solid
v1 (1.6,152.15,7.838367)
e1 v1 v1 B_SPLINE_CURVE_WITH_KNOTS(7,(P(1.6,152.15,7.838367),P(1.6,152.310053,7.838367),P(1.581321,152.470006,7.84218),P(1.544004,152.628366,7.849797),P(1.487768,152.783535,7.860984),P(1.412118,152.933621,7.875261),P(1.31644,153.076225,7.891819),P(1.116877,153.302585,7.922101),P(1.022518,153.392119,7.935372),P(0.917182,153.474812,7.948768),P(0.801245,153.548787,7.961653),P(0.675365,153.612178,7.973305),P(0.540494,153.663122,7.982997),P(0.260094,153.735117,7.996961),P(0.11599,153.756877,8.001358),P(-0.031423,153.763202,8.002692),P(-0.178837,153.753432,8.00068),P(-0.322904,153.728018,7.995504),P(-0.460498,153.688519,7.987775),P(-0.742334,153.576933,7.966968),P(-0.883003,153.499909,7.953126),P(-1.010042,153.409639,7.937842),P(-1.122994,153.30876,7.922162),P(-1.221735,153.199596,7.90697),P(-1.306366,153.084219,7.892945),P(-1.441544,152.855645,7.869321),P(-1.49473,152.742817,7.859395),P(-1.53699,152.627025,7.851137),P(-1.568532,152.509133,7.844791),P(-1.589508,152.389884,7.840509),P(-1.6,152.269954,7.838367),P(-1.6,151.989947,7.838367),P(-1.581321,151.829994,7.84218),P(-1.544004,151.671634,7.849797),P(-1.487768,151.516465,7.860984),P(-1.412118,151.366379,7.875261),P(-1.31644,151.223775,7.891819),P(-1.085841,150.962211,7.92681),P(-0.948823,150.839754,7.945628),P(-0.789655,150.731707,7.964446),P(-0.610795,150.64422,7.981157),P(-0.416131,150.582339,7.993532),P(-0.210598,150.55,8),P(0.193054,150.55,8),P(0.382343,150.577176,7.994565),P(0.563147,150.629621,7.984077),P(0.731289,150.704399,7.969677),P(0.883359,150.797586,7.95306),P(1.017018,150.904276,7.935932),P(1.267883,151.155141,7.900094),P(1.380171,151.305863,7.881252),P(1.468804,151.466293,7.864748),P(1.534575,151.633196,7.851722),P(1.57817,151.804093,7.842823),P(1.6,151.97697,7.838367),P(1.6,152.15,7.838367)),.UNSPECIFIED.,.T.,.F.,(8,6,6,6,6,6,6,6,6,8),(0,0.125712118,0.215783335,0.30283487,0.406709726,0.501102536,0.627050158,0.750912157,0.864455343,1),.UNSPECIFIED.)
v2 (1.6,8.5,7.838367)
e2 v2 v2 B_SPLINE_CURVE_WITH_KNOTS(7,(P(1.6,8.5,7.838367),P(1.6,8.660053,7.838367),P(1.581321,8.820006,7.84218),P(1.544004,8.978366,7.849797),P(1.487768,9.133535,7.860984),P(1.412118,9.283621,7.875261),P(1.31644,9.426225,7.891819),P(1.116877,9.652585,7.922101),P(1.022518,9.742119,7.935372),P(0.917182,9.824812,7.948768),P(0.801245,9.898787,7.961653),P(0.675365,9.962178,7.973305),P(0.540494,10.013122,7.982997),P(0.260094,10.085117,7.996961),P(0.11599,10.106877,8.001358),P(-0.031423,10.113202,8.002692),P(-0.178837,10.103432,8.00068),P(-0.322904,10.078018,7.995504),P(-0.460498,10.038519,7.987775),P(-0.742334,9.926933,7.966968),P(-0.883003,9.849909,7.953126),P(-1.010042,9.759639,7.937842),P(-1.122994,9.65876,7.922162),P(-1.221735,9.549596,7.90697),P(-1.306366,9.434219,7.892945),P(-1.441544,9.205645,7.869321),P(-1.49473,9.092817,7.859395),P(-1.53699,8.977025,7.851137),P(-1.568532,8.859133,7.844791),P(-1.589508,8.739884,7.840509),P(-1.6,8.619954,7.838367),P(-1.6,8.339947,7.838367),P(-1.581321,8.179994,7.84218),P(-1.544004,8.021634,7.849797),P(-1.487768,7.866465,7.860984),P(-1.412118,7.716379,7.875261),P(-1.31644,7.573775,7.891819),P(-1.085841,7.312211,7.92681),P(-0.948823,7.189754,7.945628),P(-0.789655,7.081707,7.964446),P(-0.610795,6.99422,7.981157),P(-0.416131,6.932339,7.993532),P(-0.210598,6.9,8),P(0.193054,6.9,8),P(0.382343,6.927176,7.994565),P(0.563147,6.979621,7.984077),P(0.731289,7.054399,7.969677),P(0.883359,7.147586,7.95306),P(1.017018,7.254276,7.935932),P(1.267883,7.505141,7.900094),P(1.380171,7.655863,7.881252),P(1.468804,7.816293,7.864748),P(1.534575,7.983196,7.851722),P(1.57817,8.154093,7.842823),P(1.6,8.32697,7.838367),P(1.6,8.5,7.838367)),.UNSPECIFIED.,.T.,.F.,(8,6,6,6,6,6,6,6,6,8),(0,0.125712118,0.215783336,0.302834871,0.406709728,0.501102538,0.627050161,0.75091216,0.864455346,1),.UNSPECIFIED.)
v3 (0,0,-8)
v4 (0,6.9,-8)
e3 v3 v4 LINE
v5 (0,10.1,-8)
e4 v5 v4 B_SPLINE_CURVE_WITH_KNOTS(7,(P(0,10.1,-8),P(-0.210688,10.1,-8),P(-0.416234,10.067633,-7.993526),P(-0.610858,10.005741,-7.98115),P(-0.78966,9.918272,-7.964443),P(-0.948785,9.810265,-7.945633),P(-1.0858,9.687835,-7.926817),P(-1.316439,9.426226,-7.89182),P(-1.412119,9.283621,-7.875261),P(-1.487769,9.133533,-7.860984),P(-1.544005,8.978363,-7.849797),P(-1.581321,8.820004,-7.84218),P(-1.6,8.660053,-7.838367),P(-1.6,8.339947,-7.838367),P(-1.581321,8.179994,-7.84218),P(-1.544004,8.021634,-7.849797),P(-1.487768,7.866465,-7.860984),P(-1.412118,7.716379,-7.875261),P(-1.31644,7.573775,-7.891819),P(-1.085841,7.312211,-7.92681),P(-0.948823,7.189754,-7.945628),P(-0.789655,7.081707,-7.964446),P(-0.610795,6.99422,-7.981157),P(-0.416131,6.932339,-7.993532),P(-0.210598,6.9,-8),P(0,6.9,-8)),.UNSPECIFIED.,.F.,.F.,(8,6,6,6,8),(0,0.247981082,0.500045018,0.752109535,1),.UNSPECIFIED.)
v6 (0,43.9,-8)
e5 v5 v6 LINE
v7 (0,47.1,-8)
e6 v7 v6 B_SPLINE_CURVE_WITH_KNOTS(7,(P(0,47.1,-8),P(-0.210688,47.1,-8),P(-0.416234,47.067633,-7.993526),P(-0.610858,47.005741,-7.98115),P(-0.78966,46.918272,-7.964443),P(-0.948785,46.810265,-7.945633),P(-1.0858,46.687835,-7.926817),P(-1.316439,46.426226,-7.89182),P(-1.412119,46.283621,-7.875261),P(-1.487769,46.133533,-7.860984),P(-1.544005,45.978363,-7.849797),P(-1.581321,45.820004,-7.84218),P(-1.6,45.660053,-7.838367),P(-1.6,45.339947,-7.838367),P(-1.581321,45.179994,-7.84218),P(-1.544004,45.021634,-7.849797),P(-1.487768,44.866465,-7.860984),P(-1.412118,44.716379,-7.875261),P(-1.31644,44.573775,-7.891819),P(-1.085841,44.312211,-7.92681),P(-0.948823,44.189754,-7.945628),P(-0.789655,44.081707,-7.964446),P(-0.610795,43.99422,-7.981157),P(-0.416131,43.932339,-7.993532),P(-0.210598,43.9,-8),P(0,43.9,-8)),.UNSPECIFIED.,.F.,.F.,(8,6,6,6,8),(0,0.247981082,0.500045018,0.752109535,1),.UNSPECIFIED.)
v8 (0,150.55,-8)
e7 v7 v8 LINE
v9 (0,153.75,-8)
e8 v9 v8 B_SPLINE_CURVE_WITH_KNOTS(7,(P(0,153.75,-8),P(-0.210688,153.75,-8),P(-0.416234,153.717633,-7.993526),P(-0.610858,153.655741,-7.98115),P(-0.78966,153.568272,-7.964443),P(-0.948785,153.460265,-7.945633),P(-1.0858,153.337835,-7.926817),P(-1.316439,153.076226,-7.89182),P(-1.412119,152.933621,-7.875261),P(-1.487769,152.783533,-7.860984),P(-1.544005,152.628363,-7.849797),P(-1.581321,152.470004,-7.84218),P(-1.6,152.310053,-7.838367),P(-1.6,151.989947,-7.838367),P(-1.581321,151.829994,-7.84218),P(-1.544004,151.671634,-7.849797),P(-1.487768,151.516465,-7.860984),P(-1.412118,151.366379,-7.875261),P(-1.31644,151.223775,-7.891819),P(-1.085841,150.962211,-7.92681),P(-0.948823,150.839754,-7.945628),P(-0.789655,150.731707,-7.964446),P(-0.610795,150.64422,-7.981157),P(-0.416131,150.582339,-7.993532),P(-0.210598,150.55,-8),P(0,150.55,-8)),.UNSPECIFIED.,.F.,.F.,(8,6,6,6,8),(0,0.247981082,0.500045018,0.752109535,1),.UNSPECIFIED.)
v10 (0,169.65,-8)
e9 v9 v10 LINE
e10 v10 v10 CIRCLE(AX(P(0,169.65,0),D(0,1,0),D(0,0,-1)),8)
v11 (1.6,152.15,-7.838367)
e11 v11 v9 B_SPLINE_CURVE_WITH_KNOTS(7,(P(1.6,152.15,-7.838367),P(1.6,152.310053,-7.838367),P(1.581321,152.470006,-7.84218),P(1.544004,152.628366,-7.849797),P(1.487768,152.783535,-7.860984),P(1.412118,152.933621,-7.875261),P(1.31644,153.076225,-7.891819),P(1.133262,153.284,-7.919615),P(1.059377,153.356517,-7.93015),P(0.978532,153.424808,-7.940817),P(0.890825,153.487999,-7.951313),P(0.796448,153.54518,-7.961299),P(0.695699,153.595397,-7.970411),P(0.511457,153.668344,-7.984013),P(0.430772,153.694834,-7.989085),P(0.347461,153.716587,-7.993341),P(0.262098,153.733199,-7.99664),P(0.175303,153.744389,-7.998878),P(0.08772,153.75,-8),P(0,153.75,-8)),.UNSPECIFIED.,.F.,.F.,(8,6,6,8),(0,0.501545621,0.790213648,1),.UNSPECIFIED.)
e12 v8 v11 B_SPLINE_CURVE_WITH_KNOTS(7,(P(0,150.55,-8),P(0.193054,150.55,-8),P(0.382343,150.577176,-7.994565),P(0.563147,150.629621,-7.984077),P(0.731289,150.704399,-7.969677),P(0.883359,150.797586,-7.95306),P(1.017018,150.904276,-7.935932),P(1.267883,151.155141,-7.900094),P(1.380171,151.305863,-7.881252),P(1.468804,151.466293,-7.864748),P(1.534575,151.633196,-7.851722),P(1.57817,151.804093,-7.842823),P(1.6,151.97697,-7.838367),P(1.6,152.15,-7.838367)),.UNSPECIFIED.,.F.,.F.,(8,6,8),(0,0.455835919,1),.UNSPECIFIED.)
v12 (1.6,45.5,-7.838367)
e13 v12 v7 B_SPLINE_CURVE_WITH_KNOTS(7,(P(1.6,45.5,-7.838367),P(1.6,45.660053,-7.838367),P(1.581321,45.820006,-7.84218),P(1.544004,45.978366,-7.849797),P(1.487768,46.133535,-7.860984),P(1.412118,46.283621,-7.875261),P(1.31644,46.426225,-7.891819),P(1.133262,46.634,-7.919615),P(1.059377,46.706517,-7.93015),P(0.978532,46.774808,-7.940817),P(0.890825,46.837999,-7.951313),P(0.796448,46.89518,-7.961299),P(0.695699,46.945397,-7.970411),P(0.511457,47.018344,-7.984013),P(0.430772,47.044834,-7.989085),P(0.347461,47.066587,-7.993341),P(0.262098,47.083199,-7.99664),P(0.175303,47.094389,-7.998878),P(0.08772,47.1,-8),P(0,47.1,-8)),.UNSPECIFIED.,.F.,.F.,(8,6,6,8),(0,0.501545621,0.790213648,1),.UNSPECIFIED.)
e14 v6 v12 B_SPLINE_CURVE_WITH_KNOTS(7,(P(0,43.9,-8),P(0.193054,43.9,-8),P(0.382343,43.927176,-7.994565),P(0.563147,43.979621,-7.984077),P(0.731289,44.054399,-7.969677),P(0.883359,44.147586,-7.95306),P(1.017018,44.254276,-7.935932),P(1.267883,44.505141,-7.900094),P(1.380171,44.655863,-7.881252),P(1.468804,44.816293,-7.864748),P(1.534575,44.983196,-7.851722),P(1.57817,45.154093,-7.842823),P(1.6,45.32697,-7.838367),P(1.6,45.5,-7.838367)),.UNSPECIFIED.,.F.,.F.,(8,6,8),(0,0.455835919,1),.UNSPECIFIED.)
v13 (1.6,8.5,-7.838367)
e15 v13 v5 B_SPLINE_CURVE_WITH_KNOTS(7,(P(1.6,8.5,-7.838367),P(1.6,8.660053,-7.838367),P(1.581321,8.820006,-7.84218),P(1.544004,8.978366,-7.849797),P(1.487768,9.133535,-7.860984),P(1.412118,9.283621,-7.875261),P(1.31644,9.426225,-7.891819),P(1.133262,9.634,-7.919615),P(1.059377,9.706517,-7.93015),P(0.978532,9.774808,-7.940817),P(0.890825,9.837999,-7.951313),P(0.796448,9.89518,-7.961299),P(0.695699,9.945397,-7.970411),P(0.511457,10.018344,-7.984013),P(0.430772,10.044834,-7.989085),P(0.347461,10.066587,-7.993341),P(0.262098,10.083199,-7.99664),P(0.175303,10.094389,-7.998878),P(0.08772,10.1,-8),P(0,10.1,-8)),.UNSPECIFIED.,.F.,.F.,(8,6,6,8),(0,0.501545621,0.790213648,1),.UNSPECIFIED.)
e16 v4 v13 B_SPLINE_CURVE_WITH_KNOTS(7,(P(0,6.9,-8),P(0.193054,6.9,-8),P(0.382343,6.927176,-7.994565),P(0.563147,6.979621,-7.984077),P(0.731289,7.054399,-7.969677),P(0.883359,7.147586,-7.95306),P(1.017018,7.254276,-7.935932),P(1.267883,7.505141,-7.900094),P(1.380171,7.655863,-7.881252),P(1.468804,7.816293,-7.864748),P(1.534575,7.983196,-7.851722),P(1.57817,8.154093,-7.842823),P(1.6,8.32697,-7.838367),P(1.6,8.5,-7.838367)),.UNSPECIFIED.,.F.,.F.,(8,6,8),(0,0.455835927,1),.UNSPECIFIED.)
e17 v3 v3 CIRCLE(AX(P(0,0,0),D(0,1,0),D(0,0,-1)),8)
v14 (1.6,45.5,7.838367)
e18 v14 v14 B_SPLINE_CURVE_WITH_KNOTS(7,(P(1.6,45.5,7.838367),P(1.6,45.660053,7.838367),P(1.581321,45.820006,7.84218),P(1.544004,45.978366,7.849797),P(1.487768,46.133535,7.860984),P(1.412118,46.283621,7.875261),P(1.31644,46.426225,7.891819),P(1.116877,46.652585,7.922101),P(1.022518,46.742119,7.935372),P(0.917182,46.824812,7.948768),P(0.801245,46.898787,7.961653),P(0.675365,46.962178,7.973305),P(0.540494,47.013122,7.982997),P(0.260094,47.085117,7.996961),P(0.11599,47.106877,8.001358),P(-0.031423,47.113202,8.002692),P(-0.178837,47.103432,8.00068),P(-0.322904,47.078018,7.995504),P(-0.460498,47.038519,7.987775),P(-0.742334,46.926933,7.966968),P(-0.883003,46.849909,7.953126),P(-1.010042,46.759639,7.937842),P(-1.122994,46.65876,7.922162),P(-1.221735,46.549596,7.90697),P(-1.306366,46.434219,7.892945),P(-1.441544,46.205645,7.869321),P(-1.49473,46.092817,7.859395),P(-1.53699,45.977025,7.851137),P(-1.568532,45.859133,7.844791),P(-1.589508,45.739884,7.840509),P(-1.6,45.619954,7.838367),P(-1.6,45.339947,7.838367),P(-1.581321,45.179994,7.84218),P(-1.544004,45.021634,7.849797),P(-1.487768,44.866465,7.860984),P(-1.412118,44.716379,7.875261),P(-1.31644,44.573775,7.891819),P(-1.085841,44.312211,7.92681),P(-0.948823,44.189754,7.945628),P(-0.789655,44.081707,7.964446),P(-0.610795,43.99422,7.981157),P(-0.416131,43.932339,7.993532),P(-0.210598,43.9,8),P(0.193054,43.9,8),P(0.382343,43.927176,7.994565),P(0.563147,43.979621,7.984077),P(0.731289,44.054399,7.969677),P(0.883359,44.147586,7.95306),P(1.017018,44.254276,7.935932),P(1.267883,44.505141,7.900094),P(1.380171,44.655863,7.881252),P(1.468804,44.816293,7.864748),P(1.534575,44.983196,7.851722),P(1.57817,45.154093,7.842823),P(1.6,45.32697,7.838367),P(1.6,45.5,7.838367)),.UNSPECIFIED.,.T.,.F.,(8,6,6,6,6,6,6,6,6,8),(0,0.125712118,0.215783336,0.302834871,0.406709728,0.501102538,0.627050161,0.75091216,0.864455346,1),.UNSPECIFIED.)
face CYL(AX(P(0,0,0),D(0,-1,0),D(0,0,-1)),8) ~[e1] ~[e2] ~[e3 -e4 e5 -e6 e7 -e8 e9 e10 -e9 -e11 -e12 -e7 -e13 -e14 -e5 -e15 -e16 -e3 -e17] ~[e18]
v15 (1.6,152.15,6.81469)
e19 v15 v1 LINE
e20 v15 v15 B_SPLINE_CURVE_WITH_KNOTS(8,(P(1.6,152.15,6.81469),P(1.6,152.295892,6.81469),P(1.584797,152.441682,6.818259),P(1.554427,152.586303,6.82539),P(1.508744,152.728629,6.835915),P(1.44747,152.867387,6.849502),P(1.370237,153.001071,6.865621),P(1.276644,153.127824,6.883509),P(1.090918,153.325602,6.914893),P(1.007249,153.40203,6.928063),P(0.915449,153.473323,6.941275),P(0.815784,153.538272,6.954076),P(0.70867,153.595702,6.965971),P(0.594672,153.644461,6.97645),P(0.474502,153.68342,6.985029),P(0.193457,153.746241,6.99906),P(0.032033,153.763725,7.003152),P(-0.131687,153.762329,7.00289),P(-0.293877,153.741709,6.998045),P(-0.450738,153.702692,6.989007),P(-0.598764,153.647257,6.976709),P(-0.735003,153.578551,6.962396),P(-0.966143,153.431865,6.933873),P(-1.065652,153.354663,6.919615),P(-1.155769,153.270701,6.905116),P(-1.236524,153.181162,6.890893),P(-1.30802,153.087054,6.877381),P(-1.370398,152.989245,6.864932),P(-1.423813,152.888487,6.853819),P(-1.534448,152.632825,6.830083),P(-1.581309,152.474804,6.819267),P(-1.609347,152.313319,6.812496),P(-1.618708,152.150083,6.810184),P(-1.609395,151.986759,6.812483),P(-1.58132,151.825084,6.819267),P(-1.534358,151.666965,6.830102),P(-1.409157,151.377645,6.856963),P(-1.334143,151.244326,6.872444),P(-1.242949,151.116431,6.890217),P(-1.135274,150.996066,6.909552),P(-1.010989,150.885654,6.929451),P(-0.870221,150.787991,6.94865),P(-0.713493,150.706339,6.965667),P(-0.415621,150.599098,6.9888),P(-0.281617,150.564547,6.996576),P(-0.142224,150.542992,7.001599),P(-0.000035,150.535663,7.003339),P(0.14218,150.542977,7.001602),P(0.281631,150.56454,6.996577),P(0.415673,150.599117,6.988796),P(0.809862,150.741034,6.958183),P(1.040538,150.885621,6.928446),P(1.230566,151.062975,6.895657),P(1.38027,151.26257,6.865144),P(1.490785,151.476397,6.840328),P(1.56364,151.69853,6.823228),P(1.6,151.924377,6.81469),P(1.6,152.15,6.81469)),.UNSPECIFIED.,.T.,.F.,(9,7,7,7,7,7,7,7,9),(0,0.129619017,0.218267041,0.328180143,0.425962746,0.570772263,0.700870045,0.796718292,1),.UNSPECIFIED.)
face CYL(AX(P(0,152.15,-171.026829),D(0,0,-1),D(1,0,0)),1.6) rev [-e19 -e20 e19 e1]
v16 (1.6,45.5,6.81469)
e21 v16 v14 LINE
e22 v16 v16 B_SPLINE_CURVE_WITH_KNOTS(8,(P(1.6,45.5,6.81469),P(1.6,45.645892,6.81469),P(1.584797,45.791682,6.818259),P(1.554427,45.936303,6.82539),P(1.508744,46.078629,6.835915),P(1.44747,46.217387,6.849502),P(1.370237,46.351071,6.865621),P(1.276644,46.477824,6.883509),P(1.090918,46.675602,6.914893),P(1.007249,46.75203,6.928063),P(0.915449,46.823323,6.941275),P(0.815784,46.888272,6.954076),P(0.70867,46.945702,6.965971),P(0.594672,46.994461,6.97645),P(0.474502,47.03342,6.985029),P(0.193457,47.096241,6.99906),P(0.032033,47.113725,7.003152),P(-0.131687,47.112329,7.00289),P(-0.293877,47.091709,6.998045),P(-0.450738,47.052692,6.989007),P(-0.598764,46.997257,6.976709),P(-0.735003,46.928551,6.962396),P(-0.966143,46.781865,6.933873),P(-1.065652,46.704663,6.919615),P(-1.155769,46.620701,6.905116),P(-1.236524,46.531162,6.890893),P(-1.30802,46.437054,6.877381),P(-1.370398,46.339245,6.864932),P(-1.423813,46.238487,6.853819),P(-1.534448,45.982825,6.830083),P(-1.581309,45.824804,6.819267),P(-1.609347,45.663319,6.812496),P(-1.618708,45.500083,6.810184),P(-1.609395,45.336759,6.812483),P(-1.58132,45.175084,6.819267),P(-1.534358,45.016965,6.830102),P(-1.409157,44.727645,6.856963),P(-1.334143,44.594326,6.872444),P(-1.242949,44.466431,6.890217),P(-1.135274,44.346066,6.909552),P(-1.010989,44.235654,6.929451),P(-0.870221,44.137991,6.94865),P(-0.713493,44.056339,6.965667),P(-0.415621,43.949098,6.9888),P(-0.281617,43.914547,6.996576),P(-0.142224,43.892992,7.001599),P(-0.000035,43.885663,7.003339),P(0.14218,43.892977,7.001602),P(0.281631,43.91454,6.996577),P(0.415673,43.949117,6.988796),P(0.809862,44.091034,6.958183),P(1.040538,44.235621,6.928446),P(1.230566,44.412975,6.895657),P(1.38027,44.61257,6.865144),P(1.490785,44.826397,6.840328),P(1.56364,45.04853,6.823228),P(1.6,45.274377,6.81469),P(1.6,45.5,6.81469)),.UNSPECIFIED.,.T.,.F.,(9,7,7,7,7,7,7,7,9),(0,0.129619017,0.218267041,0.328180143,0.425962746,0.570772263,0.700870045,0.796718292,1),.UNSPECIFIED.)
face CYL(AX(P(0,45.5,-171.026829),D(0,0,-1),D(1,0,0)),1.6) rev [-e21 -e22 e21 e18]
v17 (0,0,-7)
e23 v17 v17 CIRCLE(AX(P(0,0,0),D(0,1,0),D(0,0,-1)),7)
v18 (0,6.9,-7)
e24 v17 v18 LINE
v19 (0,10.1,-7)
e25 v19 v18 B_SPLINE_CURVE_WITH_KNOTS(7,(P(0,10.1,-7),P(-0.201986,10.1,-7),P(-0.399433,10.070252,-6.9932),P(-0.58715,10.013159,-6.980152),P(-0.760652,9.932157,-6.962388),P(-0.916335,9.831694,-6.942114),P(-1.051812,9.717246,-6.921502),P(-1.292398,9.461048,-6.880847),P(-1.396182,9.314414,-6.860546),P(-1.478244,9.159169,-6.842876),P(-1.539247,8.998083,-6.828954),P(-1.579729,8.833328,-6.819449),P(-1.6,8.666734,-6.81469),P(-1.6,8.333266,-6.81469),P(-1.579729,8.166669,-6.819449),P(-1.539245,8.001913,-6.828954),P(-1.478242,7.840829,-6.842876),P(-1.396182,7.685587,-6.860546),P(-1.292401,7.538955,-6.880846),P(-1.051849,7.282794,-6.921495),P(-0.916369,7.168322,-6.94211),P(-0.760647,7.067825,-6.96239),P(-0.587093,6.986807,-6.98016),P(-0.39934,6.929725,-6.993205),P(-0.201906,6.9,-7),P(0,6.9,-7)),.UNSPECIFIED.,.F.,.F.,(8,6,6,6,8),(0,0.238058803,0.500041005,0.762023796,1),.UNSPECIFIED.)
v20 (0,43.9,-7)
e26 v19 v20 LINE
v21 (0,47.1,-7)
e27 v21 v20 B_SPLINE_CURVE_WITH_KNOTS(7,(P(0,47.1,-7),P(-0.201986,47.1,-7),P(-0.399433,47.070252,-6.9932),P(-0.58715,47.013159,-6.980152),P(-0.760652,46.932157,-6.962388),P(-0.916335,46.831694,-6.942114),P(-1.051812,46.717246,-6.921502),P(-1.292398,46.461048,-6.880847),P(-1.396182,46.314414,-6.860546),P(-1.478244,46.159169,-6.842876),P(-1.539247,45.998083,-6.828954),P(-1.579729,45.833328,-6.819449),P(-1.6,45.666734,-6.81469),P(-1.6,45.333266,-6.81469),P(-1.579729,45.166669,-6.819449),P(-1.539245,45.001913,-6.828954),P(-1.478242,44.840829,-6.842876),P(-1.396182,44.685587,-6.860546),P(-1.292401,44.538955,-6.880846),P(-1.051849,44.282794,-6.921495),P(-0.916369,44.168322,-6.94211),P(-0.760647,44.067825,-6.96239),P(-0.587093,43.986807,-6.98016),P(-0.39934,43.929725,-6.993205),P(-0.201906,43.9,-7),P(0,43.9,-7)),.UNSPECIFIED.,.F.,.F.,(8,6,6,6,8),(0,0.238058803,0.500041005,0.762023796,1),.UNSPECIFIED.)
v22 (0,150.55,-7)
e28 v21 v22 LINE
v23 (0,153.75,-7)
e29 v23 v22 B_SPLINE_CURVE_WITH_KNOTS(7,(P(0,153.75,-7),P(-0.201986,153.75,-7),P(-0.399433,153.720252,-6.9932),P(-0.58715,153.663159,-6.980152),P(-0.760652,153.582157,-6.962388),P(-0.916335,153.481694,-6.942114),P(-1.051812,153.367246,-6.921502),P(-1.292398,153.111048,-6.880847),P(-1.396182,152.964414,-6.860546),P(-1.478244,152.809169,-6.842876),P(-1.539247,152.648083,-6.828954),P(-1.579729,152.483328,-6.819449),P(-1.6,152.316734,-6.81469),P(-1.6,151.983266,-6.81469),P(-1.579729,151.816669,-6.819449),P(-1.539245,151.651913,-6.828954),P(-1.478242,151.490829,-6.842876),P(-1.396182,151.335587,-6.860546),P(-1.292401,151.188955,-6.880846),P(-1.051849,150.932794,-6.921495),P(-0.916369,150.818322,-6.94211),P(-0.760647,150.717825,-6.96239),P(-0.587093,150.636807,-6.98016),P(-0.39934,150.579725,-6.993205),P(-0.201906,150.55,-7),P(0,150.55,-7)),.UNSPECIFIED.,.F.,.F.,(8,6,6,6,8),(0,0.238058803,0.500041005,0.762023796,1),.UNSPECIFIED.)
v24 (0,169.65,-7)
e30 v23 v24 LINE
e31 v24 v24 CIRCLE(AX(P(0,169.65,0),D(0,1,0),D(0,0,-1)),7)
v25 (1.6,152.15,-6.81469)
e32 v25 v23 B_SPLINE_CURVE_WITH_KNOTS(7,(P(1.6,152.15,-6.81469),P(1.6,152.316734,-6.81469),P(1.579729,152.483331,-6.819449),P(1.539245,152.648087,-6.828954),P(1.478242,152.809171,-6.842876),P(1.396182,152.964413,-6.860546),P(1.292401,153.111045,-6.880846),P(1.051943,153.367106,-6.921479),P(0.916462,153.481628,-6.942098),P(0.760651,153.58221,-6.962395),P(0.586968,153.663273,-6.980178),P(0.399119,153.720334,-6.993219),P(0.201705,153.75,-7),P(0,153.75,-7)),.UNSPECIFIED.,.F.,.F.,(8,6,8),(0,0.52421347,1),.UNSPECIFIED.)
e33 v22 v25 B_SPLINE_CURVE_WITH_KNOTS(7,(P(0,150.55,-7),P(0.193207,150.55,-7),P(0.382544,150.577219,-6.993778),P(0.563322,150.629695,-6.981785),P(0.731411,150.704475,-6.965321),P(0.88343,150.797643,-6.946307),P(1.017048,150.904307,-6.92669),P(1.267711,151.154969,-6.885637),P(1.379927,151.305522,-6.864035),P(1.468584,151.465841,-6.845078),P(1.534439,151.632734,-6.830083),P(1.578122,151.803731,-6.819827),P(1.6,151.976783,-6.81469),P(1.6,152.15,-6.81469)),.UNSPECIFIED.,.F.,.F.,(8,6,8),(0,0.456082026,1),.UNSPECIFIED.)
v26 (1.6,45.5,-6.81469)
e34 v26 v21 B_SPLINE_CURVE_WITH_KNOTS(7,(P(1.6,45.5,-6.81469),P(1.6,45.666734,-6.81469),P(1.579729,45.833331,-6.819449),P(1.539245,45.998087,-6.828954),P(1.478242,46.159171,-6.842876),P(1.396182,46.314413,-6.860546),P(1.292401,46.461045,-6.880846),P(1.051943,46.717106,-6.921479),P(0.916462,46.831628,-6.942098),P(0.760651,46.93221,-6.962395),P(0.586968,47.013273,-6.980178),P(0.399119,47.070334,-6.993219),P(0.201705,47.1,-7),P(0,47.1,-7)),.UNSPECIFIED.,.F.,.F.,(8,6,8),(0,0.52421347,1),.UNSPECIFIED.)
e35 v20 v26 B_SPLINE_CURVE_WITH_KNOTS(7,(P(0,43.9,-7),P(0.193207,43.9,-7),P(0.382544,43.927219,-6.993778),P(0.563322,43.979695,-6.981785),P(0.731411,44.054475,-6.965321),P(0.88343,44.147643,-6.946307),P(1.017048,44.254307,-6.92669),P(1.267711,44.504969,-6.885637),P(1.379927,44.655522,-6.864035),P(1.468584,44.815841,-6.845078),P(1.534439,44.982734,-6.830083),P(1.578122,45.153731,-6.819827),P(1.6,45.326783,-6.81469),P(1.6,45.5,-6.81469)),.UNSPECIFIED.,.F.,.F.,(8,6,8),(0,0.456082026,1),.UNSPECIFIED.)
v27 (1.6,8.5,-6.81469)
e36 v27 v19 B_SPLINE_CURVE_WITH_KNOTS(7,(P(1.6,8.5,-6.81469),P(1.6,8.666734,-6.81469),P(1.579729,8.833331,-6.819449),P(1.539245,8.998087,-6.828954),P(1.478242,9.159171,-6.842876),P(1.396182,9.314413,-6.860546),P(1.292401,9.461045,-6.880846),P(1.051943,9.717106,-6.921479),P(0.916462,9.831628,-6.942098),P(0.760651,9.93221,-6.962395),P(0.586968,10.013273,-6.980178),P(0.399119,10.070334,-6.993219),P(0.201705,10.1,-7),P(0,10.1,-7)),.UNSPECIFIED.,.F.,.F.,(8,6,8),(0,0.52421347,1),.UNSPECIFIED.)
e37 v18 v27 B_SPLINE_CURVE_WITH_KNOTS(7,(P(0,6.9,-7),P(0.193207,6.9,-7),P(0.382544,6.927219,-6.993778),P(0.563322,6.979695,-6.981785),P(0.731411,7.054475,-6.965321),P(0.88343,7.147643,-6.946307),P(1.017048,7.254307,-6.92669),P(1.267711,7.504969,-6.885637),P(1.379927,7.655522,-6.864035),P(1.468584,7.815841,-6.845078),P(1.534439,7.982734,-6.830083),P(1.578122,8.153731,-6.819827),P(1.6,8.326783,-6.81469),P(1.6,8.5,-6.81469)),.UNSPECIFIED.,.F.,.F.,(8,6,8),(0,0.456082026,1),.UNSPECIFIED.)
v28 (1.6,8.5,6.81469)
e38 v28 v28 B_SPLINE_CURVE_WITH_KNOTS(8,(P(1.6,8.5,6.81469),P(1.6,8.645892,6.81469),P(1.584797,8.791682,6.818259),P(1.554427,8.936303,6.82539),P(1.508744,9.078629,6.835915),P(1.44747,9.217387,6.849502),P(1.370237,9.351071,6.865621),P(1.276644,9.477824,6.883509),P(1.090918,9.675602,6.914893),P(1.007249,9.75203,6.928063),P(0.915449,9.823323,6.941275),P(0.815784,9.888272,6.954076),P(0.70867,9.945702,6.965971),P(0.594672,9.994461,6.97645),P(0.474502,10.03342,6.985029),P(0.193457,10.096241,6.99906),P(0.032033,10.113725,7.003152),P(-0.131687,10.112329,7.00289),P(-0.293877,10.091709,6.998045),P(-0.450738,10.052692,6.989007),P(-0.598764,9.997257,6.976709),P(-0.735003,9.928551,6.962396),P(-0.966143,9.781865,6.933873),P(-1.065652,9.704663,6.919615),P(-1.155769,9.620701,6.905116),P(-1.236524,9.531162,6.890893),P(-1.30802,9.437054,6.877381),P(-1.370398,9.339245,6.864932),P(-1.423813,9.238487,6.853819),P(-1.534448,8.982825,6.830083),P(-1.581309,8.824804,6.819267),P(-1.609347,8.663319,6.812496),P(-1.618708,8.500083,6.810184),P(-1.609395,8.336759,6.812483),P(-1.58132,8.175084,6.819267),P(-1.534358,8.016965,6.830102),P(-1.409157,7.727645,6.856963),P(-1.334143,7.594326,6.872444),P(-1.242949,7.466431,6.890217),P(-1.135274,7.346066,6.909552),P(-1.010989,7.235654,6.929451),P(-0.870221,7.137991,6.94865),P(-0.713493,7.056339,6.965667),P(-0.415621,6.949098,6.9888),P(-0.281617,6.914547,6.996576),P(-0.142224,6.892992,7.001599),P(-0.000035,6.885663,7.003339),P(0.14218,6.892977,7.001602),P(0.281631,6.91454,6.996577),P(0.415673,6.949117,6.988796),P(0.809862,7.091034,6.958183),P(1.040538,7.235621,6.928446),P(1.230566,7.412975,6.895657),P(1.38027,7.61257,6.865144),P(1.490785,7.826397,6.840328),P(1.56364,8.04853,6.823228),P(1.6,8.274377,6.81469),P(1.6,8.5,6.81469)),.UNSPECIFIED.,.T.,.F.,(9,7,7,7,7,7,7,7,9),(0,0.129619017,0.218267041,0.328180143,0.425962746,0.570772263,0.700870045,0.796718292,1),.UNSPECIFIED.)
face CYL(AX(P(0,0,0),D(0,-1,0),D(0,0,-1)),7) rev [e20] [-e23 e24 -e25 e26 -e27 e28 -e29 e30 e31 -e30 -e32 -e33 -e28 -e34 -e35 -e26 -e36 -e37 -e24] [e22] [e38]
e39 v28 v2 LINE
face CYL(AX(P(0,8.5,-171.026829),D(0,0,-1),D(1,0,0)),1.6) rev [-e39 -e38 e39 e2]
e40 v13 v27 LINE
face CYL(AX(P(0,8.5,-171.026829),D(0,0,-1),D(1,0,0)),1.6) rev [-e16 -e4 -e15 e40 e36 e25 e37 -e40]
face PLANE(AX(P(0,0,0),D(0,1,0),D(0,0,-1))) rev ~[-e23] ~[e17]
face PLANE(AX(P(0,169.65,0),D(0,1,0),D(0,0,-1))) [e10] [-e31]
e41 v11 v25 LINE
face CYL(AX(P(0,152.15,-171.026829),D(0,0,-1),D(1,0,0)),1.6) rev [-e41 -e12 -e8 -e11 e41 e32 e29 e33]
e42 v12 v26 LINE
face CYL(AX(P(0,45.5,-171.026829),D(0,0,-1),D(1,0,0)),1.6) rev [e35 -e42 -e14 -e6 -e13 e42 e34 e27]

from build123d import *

# Parameters (mm, degrees)
SKETCH_1_R               = 8
SKETCH_1_R_2             = 7
EXTRUDE_1_DEPTH          = 169.65
CUT_EXTRUDE_1_DEPTH      = 171.026828765
CUT_EXTRUDE_1_DEPTH_BACK = 171.026828765
SKETCH_3_R               = 1.6


with BuildPart() as part:
    # 草图1 → 凸台-拉伸1 (new body)
    with BuildSketch(Plane(origin=(0, 0, 0), x_dir=(1, 0, 0), z_dir=(0, 1, 0))):
        with Locations(Location((0, 0, 0), (0, 0, 90))):
            Circle(SKETCH_1_R)
        with Locations(Location((0, 0, 0), (0, 0, 90))):
            Circle(SKETCH_1_R_2, mode=Mode.SUBTRACT)
    extrude(amount=EXTRUDE_1_DEPTH)

    # 草图3 → 切除-拉伸1 (cut, two sides: drawn at the far end of the back side and taken through both)
    with BuildSketch(Plane.XY.offset(-CUT_EXTRUDE_1_DEPTH_BACK)):
        with Locations((0, 152.15)):
            Circle(SKETCH_3_R)
        with Locations((0, 45.5)):
            Circle(SKETCH_3_R)
        with Locations((0, 8.5)):
            Circle(SKETCH_3_R)
    extrude(amount=CUT_EXTRUDE_1_DEPTH + CUT_EXTRUDE_1_DEPTH_BACK, mode=Mode.SUBTRACT)


solid = part.part
